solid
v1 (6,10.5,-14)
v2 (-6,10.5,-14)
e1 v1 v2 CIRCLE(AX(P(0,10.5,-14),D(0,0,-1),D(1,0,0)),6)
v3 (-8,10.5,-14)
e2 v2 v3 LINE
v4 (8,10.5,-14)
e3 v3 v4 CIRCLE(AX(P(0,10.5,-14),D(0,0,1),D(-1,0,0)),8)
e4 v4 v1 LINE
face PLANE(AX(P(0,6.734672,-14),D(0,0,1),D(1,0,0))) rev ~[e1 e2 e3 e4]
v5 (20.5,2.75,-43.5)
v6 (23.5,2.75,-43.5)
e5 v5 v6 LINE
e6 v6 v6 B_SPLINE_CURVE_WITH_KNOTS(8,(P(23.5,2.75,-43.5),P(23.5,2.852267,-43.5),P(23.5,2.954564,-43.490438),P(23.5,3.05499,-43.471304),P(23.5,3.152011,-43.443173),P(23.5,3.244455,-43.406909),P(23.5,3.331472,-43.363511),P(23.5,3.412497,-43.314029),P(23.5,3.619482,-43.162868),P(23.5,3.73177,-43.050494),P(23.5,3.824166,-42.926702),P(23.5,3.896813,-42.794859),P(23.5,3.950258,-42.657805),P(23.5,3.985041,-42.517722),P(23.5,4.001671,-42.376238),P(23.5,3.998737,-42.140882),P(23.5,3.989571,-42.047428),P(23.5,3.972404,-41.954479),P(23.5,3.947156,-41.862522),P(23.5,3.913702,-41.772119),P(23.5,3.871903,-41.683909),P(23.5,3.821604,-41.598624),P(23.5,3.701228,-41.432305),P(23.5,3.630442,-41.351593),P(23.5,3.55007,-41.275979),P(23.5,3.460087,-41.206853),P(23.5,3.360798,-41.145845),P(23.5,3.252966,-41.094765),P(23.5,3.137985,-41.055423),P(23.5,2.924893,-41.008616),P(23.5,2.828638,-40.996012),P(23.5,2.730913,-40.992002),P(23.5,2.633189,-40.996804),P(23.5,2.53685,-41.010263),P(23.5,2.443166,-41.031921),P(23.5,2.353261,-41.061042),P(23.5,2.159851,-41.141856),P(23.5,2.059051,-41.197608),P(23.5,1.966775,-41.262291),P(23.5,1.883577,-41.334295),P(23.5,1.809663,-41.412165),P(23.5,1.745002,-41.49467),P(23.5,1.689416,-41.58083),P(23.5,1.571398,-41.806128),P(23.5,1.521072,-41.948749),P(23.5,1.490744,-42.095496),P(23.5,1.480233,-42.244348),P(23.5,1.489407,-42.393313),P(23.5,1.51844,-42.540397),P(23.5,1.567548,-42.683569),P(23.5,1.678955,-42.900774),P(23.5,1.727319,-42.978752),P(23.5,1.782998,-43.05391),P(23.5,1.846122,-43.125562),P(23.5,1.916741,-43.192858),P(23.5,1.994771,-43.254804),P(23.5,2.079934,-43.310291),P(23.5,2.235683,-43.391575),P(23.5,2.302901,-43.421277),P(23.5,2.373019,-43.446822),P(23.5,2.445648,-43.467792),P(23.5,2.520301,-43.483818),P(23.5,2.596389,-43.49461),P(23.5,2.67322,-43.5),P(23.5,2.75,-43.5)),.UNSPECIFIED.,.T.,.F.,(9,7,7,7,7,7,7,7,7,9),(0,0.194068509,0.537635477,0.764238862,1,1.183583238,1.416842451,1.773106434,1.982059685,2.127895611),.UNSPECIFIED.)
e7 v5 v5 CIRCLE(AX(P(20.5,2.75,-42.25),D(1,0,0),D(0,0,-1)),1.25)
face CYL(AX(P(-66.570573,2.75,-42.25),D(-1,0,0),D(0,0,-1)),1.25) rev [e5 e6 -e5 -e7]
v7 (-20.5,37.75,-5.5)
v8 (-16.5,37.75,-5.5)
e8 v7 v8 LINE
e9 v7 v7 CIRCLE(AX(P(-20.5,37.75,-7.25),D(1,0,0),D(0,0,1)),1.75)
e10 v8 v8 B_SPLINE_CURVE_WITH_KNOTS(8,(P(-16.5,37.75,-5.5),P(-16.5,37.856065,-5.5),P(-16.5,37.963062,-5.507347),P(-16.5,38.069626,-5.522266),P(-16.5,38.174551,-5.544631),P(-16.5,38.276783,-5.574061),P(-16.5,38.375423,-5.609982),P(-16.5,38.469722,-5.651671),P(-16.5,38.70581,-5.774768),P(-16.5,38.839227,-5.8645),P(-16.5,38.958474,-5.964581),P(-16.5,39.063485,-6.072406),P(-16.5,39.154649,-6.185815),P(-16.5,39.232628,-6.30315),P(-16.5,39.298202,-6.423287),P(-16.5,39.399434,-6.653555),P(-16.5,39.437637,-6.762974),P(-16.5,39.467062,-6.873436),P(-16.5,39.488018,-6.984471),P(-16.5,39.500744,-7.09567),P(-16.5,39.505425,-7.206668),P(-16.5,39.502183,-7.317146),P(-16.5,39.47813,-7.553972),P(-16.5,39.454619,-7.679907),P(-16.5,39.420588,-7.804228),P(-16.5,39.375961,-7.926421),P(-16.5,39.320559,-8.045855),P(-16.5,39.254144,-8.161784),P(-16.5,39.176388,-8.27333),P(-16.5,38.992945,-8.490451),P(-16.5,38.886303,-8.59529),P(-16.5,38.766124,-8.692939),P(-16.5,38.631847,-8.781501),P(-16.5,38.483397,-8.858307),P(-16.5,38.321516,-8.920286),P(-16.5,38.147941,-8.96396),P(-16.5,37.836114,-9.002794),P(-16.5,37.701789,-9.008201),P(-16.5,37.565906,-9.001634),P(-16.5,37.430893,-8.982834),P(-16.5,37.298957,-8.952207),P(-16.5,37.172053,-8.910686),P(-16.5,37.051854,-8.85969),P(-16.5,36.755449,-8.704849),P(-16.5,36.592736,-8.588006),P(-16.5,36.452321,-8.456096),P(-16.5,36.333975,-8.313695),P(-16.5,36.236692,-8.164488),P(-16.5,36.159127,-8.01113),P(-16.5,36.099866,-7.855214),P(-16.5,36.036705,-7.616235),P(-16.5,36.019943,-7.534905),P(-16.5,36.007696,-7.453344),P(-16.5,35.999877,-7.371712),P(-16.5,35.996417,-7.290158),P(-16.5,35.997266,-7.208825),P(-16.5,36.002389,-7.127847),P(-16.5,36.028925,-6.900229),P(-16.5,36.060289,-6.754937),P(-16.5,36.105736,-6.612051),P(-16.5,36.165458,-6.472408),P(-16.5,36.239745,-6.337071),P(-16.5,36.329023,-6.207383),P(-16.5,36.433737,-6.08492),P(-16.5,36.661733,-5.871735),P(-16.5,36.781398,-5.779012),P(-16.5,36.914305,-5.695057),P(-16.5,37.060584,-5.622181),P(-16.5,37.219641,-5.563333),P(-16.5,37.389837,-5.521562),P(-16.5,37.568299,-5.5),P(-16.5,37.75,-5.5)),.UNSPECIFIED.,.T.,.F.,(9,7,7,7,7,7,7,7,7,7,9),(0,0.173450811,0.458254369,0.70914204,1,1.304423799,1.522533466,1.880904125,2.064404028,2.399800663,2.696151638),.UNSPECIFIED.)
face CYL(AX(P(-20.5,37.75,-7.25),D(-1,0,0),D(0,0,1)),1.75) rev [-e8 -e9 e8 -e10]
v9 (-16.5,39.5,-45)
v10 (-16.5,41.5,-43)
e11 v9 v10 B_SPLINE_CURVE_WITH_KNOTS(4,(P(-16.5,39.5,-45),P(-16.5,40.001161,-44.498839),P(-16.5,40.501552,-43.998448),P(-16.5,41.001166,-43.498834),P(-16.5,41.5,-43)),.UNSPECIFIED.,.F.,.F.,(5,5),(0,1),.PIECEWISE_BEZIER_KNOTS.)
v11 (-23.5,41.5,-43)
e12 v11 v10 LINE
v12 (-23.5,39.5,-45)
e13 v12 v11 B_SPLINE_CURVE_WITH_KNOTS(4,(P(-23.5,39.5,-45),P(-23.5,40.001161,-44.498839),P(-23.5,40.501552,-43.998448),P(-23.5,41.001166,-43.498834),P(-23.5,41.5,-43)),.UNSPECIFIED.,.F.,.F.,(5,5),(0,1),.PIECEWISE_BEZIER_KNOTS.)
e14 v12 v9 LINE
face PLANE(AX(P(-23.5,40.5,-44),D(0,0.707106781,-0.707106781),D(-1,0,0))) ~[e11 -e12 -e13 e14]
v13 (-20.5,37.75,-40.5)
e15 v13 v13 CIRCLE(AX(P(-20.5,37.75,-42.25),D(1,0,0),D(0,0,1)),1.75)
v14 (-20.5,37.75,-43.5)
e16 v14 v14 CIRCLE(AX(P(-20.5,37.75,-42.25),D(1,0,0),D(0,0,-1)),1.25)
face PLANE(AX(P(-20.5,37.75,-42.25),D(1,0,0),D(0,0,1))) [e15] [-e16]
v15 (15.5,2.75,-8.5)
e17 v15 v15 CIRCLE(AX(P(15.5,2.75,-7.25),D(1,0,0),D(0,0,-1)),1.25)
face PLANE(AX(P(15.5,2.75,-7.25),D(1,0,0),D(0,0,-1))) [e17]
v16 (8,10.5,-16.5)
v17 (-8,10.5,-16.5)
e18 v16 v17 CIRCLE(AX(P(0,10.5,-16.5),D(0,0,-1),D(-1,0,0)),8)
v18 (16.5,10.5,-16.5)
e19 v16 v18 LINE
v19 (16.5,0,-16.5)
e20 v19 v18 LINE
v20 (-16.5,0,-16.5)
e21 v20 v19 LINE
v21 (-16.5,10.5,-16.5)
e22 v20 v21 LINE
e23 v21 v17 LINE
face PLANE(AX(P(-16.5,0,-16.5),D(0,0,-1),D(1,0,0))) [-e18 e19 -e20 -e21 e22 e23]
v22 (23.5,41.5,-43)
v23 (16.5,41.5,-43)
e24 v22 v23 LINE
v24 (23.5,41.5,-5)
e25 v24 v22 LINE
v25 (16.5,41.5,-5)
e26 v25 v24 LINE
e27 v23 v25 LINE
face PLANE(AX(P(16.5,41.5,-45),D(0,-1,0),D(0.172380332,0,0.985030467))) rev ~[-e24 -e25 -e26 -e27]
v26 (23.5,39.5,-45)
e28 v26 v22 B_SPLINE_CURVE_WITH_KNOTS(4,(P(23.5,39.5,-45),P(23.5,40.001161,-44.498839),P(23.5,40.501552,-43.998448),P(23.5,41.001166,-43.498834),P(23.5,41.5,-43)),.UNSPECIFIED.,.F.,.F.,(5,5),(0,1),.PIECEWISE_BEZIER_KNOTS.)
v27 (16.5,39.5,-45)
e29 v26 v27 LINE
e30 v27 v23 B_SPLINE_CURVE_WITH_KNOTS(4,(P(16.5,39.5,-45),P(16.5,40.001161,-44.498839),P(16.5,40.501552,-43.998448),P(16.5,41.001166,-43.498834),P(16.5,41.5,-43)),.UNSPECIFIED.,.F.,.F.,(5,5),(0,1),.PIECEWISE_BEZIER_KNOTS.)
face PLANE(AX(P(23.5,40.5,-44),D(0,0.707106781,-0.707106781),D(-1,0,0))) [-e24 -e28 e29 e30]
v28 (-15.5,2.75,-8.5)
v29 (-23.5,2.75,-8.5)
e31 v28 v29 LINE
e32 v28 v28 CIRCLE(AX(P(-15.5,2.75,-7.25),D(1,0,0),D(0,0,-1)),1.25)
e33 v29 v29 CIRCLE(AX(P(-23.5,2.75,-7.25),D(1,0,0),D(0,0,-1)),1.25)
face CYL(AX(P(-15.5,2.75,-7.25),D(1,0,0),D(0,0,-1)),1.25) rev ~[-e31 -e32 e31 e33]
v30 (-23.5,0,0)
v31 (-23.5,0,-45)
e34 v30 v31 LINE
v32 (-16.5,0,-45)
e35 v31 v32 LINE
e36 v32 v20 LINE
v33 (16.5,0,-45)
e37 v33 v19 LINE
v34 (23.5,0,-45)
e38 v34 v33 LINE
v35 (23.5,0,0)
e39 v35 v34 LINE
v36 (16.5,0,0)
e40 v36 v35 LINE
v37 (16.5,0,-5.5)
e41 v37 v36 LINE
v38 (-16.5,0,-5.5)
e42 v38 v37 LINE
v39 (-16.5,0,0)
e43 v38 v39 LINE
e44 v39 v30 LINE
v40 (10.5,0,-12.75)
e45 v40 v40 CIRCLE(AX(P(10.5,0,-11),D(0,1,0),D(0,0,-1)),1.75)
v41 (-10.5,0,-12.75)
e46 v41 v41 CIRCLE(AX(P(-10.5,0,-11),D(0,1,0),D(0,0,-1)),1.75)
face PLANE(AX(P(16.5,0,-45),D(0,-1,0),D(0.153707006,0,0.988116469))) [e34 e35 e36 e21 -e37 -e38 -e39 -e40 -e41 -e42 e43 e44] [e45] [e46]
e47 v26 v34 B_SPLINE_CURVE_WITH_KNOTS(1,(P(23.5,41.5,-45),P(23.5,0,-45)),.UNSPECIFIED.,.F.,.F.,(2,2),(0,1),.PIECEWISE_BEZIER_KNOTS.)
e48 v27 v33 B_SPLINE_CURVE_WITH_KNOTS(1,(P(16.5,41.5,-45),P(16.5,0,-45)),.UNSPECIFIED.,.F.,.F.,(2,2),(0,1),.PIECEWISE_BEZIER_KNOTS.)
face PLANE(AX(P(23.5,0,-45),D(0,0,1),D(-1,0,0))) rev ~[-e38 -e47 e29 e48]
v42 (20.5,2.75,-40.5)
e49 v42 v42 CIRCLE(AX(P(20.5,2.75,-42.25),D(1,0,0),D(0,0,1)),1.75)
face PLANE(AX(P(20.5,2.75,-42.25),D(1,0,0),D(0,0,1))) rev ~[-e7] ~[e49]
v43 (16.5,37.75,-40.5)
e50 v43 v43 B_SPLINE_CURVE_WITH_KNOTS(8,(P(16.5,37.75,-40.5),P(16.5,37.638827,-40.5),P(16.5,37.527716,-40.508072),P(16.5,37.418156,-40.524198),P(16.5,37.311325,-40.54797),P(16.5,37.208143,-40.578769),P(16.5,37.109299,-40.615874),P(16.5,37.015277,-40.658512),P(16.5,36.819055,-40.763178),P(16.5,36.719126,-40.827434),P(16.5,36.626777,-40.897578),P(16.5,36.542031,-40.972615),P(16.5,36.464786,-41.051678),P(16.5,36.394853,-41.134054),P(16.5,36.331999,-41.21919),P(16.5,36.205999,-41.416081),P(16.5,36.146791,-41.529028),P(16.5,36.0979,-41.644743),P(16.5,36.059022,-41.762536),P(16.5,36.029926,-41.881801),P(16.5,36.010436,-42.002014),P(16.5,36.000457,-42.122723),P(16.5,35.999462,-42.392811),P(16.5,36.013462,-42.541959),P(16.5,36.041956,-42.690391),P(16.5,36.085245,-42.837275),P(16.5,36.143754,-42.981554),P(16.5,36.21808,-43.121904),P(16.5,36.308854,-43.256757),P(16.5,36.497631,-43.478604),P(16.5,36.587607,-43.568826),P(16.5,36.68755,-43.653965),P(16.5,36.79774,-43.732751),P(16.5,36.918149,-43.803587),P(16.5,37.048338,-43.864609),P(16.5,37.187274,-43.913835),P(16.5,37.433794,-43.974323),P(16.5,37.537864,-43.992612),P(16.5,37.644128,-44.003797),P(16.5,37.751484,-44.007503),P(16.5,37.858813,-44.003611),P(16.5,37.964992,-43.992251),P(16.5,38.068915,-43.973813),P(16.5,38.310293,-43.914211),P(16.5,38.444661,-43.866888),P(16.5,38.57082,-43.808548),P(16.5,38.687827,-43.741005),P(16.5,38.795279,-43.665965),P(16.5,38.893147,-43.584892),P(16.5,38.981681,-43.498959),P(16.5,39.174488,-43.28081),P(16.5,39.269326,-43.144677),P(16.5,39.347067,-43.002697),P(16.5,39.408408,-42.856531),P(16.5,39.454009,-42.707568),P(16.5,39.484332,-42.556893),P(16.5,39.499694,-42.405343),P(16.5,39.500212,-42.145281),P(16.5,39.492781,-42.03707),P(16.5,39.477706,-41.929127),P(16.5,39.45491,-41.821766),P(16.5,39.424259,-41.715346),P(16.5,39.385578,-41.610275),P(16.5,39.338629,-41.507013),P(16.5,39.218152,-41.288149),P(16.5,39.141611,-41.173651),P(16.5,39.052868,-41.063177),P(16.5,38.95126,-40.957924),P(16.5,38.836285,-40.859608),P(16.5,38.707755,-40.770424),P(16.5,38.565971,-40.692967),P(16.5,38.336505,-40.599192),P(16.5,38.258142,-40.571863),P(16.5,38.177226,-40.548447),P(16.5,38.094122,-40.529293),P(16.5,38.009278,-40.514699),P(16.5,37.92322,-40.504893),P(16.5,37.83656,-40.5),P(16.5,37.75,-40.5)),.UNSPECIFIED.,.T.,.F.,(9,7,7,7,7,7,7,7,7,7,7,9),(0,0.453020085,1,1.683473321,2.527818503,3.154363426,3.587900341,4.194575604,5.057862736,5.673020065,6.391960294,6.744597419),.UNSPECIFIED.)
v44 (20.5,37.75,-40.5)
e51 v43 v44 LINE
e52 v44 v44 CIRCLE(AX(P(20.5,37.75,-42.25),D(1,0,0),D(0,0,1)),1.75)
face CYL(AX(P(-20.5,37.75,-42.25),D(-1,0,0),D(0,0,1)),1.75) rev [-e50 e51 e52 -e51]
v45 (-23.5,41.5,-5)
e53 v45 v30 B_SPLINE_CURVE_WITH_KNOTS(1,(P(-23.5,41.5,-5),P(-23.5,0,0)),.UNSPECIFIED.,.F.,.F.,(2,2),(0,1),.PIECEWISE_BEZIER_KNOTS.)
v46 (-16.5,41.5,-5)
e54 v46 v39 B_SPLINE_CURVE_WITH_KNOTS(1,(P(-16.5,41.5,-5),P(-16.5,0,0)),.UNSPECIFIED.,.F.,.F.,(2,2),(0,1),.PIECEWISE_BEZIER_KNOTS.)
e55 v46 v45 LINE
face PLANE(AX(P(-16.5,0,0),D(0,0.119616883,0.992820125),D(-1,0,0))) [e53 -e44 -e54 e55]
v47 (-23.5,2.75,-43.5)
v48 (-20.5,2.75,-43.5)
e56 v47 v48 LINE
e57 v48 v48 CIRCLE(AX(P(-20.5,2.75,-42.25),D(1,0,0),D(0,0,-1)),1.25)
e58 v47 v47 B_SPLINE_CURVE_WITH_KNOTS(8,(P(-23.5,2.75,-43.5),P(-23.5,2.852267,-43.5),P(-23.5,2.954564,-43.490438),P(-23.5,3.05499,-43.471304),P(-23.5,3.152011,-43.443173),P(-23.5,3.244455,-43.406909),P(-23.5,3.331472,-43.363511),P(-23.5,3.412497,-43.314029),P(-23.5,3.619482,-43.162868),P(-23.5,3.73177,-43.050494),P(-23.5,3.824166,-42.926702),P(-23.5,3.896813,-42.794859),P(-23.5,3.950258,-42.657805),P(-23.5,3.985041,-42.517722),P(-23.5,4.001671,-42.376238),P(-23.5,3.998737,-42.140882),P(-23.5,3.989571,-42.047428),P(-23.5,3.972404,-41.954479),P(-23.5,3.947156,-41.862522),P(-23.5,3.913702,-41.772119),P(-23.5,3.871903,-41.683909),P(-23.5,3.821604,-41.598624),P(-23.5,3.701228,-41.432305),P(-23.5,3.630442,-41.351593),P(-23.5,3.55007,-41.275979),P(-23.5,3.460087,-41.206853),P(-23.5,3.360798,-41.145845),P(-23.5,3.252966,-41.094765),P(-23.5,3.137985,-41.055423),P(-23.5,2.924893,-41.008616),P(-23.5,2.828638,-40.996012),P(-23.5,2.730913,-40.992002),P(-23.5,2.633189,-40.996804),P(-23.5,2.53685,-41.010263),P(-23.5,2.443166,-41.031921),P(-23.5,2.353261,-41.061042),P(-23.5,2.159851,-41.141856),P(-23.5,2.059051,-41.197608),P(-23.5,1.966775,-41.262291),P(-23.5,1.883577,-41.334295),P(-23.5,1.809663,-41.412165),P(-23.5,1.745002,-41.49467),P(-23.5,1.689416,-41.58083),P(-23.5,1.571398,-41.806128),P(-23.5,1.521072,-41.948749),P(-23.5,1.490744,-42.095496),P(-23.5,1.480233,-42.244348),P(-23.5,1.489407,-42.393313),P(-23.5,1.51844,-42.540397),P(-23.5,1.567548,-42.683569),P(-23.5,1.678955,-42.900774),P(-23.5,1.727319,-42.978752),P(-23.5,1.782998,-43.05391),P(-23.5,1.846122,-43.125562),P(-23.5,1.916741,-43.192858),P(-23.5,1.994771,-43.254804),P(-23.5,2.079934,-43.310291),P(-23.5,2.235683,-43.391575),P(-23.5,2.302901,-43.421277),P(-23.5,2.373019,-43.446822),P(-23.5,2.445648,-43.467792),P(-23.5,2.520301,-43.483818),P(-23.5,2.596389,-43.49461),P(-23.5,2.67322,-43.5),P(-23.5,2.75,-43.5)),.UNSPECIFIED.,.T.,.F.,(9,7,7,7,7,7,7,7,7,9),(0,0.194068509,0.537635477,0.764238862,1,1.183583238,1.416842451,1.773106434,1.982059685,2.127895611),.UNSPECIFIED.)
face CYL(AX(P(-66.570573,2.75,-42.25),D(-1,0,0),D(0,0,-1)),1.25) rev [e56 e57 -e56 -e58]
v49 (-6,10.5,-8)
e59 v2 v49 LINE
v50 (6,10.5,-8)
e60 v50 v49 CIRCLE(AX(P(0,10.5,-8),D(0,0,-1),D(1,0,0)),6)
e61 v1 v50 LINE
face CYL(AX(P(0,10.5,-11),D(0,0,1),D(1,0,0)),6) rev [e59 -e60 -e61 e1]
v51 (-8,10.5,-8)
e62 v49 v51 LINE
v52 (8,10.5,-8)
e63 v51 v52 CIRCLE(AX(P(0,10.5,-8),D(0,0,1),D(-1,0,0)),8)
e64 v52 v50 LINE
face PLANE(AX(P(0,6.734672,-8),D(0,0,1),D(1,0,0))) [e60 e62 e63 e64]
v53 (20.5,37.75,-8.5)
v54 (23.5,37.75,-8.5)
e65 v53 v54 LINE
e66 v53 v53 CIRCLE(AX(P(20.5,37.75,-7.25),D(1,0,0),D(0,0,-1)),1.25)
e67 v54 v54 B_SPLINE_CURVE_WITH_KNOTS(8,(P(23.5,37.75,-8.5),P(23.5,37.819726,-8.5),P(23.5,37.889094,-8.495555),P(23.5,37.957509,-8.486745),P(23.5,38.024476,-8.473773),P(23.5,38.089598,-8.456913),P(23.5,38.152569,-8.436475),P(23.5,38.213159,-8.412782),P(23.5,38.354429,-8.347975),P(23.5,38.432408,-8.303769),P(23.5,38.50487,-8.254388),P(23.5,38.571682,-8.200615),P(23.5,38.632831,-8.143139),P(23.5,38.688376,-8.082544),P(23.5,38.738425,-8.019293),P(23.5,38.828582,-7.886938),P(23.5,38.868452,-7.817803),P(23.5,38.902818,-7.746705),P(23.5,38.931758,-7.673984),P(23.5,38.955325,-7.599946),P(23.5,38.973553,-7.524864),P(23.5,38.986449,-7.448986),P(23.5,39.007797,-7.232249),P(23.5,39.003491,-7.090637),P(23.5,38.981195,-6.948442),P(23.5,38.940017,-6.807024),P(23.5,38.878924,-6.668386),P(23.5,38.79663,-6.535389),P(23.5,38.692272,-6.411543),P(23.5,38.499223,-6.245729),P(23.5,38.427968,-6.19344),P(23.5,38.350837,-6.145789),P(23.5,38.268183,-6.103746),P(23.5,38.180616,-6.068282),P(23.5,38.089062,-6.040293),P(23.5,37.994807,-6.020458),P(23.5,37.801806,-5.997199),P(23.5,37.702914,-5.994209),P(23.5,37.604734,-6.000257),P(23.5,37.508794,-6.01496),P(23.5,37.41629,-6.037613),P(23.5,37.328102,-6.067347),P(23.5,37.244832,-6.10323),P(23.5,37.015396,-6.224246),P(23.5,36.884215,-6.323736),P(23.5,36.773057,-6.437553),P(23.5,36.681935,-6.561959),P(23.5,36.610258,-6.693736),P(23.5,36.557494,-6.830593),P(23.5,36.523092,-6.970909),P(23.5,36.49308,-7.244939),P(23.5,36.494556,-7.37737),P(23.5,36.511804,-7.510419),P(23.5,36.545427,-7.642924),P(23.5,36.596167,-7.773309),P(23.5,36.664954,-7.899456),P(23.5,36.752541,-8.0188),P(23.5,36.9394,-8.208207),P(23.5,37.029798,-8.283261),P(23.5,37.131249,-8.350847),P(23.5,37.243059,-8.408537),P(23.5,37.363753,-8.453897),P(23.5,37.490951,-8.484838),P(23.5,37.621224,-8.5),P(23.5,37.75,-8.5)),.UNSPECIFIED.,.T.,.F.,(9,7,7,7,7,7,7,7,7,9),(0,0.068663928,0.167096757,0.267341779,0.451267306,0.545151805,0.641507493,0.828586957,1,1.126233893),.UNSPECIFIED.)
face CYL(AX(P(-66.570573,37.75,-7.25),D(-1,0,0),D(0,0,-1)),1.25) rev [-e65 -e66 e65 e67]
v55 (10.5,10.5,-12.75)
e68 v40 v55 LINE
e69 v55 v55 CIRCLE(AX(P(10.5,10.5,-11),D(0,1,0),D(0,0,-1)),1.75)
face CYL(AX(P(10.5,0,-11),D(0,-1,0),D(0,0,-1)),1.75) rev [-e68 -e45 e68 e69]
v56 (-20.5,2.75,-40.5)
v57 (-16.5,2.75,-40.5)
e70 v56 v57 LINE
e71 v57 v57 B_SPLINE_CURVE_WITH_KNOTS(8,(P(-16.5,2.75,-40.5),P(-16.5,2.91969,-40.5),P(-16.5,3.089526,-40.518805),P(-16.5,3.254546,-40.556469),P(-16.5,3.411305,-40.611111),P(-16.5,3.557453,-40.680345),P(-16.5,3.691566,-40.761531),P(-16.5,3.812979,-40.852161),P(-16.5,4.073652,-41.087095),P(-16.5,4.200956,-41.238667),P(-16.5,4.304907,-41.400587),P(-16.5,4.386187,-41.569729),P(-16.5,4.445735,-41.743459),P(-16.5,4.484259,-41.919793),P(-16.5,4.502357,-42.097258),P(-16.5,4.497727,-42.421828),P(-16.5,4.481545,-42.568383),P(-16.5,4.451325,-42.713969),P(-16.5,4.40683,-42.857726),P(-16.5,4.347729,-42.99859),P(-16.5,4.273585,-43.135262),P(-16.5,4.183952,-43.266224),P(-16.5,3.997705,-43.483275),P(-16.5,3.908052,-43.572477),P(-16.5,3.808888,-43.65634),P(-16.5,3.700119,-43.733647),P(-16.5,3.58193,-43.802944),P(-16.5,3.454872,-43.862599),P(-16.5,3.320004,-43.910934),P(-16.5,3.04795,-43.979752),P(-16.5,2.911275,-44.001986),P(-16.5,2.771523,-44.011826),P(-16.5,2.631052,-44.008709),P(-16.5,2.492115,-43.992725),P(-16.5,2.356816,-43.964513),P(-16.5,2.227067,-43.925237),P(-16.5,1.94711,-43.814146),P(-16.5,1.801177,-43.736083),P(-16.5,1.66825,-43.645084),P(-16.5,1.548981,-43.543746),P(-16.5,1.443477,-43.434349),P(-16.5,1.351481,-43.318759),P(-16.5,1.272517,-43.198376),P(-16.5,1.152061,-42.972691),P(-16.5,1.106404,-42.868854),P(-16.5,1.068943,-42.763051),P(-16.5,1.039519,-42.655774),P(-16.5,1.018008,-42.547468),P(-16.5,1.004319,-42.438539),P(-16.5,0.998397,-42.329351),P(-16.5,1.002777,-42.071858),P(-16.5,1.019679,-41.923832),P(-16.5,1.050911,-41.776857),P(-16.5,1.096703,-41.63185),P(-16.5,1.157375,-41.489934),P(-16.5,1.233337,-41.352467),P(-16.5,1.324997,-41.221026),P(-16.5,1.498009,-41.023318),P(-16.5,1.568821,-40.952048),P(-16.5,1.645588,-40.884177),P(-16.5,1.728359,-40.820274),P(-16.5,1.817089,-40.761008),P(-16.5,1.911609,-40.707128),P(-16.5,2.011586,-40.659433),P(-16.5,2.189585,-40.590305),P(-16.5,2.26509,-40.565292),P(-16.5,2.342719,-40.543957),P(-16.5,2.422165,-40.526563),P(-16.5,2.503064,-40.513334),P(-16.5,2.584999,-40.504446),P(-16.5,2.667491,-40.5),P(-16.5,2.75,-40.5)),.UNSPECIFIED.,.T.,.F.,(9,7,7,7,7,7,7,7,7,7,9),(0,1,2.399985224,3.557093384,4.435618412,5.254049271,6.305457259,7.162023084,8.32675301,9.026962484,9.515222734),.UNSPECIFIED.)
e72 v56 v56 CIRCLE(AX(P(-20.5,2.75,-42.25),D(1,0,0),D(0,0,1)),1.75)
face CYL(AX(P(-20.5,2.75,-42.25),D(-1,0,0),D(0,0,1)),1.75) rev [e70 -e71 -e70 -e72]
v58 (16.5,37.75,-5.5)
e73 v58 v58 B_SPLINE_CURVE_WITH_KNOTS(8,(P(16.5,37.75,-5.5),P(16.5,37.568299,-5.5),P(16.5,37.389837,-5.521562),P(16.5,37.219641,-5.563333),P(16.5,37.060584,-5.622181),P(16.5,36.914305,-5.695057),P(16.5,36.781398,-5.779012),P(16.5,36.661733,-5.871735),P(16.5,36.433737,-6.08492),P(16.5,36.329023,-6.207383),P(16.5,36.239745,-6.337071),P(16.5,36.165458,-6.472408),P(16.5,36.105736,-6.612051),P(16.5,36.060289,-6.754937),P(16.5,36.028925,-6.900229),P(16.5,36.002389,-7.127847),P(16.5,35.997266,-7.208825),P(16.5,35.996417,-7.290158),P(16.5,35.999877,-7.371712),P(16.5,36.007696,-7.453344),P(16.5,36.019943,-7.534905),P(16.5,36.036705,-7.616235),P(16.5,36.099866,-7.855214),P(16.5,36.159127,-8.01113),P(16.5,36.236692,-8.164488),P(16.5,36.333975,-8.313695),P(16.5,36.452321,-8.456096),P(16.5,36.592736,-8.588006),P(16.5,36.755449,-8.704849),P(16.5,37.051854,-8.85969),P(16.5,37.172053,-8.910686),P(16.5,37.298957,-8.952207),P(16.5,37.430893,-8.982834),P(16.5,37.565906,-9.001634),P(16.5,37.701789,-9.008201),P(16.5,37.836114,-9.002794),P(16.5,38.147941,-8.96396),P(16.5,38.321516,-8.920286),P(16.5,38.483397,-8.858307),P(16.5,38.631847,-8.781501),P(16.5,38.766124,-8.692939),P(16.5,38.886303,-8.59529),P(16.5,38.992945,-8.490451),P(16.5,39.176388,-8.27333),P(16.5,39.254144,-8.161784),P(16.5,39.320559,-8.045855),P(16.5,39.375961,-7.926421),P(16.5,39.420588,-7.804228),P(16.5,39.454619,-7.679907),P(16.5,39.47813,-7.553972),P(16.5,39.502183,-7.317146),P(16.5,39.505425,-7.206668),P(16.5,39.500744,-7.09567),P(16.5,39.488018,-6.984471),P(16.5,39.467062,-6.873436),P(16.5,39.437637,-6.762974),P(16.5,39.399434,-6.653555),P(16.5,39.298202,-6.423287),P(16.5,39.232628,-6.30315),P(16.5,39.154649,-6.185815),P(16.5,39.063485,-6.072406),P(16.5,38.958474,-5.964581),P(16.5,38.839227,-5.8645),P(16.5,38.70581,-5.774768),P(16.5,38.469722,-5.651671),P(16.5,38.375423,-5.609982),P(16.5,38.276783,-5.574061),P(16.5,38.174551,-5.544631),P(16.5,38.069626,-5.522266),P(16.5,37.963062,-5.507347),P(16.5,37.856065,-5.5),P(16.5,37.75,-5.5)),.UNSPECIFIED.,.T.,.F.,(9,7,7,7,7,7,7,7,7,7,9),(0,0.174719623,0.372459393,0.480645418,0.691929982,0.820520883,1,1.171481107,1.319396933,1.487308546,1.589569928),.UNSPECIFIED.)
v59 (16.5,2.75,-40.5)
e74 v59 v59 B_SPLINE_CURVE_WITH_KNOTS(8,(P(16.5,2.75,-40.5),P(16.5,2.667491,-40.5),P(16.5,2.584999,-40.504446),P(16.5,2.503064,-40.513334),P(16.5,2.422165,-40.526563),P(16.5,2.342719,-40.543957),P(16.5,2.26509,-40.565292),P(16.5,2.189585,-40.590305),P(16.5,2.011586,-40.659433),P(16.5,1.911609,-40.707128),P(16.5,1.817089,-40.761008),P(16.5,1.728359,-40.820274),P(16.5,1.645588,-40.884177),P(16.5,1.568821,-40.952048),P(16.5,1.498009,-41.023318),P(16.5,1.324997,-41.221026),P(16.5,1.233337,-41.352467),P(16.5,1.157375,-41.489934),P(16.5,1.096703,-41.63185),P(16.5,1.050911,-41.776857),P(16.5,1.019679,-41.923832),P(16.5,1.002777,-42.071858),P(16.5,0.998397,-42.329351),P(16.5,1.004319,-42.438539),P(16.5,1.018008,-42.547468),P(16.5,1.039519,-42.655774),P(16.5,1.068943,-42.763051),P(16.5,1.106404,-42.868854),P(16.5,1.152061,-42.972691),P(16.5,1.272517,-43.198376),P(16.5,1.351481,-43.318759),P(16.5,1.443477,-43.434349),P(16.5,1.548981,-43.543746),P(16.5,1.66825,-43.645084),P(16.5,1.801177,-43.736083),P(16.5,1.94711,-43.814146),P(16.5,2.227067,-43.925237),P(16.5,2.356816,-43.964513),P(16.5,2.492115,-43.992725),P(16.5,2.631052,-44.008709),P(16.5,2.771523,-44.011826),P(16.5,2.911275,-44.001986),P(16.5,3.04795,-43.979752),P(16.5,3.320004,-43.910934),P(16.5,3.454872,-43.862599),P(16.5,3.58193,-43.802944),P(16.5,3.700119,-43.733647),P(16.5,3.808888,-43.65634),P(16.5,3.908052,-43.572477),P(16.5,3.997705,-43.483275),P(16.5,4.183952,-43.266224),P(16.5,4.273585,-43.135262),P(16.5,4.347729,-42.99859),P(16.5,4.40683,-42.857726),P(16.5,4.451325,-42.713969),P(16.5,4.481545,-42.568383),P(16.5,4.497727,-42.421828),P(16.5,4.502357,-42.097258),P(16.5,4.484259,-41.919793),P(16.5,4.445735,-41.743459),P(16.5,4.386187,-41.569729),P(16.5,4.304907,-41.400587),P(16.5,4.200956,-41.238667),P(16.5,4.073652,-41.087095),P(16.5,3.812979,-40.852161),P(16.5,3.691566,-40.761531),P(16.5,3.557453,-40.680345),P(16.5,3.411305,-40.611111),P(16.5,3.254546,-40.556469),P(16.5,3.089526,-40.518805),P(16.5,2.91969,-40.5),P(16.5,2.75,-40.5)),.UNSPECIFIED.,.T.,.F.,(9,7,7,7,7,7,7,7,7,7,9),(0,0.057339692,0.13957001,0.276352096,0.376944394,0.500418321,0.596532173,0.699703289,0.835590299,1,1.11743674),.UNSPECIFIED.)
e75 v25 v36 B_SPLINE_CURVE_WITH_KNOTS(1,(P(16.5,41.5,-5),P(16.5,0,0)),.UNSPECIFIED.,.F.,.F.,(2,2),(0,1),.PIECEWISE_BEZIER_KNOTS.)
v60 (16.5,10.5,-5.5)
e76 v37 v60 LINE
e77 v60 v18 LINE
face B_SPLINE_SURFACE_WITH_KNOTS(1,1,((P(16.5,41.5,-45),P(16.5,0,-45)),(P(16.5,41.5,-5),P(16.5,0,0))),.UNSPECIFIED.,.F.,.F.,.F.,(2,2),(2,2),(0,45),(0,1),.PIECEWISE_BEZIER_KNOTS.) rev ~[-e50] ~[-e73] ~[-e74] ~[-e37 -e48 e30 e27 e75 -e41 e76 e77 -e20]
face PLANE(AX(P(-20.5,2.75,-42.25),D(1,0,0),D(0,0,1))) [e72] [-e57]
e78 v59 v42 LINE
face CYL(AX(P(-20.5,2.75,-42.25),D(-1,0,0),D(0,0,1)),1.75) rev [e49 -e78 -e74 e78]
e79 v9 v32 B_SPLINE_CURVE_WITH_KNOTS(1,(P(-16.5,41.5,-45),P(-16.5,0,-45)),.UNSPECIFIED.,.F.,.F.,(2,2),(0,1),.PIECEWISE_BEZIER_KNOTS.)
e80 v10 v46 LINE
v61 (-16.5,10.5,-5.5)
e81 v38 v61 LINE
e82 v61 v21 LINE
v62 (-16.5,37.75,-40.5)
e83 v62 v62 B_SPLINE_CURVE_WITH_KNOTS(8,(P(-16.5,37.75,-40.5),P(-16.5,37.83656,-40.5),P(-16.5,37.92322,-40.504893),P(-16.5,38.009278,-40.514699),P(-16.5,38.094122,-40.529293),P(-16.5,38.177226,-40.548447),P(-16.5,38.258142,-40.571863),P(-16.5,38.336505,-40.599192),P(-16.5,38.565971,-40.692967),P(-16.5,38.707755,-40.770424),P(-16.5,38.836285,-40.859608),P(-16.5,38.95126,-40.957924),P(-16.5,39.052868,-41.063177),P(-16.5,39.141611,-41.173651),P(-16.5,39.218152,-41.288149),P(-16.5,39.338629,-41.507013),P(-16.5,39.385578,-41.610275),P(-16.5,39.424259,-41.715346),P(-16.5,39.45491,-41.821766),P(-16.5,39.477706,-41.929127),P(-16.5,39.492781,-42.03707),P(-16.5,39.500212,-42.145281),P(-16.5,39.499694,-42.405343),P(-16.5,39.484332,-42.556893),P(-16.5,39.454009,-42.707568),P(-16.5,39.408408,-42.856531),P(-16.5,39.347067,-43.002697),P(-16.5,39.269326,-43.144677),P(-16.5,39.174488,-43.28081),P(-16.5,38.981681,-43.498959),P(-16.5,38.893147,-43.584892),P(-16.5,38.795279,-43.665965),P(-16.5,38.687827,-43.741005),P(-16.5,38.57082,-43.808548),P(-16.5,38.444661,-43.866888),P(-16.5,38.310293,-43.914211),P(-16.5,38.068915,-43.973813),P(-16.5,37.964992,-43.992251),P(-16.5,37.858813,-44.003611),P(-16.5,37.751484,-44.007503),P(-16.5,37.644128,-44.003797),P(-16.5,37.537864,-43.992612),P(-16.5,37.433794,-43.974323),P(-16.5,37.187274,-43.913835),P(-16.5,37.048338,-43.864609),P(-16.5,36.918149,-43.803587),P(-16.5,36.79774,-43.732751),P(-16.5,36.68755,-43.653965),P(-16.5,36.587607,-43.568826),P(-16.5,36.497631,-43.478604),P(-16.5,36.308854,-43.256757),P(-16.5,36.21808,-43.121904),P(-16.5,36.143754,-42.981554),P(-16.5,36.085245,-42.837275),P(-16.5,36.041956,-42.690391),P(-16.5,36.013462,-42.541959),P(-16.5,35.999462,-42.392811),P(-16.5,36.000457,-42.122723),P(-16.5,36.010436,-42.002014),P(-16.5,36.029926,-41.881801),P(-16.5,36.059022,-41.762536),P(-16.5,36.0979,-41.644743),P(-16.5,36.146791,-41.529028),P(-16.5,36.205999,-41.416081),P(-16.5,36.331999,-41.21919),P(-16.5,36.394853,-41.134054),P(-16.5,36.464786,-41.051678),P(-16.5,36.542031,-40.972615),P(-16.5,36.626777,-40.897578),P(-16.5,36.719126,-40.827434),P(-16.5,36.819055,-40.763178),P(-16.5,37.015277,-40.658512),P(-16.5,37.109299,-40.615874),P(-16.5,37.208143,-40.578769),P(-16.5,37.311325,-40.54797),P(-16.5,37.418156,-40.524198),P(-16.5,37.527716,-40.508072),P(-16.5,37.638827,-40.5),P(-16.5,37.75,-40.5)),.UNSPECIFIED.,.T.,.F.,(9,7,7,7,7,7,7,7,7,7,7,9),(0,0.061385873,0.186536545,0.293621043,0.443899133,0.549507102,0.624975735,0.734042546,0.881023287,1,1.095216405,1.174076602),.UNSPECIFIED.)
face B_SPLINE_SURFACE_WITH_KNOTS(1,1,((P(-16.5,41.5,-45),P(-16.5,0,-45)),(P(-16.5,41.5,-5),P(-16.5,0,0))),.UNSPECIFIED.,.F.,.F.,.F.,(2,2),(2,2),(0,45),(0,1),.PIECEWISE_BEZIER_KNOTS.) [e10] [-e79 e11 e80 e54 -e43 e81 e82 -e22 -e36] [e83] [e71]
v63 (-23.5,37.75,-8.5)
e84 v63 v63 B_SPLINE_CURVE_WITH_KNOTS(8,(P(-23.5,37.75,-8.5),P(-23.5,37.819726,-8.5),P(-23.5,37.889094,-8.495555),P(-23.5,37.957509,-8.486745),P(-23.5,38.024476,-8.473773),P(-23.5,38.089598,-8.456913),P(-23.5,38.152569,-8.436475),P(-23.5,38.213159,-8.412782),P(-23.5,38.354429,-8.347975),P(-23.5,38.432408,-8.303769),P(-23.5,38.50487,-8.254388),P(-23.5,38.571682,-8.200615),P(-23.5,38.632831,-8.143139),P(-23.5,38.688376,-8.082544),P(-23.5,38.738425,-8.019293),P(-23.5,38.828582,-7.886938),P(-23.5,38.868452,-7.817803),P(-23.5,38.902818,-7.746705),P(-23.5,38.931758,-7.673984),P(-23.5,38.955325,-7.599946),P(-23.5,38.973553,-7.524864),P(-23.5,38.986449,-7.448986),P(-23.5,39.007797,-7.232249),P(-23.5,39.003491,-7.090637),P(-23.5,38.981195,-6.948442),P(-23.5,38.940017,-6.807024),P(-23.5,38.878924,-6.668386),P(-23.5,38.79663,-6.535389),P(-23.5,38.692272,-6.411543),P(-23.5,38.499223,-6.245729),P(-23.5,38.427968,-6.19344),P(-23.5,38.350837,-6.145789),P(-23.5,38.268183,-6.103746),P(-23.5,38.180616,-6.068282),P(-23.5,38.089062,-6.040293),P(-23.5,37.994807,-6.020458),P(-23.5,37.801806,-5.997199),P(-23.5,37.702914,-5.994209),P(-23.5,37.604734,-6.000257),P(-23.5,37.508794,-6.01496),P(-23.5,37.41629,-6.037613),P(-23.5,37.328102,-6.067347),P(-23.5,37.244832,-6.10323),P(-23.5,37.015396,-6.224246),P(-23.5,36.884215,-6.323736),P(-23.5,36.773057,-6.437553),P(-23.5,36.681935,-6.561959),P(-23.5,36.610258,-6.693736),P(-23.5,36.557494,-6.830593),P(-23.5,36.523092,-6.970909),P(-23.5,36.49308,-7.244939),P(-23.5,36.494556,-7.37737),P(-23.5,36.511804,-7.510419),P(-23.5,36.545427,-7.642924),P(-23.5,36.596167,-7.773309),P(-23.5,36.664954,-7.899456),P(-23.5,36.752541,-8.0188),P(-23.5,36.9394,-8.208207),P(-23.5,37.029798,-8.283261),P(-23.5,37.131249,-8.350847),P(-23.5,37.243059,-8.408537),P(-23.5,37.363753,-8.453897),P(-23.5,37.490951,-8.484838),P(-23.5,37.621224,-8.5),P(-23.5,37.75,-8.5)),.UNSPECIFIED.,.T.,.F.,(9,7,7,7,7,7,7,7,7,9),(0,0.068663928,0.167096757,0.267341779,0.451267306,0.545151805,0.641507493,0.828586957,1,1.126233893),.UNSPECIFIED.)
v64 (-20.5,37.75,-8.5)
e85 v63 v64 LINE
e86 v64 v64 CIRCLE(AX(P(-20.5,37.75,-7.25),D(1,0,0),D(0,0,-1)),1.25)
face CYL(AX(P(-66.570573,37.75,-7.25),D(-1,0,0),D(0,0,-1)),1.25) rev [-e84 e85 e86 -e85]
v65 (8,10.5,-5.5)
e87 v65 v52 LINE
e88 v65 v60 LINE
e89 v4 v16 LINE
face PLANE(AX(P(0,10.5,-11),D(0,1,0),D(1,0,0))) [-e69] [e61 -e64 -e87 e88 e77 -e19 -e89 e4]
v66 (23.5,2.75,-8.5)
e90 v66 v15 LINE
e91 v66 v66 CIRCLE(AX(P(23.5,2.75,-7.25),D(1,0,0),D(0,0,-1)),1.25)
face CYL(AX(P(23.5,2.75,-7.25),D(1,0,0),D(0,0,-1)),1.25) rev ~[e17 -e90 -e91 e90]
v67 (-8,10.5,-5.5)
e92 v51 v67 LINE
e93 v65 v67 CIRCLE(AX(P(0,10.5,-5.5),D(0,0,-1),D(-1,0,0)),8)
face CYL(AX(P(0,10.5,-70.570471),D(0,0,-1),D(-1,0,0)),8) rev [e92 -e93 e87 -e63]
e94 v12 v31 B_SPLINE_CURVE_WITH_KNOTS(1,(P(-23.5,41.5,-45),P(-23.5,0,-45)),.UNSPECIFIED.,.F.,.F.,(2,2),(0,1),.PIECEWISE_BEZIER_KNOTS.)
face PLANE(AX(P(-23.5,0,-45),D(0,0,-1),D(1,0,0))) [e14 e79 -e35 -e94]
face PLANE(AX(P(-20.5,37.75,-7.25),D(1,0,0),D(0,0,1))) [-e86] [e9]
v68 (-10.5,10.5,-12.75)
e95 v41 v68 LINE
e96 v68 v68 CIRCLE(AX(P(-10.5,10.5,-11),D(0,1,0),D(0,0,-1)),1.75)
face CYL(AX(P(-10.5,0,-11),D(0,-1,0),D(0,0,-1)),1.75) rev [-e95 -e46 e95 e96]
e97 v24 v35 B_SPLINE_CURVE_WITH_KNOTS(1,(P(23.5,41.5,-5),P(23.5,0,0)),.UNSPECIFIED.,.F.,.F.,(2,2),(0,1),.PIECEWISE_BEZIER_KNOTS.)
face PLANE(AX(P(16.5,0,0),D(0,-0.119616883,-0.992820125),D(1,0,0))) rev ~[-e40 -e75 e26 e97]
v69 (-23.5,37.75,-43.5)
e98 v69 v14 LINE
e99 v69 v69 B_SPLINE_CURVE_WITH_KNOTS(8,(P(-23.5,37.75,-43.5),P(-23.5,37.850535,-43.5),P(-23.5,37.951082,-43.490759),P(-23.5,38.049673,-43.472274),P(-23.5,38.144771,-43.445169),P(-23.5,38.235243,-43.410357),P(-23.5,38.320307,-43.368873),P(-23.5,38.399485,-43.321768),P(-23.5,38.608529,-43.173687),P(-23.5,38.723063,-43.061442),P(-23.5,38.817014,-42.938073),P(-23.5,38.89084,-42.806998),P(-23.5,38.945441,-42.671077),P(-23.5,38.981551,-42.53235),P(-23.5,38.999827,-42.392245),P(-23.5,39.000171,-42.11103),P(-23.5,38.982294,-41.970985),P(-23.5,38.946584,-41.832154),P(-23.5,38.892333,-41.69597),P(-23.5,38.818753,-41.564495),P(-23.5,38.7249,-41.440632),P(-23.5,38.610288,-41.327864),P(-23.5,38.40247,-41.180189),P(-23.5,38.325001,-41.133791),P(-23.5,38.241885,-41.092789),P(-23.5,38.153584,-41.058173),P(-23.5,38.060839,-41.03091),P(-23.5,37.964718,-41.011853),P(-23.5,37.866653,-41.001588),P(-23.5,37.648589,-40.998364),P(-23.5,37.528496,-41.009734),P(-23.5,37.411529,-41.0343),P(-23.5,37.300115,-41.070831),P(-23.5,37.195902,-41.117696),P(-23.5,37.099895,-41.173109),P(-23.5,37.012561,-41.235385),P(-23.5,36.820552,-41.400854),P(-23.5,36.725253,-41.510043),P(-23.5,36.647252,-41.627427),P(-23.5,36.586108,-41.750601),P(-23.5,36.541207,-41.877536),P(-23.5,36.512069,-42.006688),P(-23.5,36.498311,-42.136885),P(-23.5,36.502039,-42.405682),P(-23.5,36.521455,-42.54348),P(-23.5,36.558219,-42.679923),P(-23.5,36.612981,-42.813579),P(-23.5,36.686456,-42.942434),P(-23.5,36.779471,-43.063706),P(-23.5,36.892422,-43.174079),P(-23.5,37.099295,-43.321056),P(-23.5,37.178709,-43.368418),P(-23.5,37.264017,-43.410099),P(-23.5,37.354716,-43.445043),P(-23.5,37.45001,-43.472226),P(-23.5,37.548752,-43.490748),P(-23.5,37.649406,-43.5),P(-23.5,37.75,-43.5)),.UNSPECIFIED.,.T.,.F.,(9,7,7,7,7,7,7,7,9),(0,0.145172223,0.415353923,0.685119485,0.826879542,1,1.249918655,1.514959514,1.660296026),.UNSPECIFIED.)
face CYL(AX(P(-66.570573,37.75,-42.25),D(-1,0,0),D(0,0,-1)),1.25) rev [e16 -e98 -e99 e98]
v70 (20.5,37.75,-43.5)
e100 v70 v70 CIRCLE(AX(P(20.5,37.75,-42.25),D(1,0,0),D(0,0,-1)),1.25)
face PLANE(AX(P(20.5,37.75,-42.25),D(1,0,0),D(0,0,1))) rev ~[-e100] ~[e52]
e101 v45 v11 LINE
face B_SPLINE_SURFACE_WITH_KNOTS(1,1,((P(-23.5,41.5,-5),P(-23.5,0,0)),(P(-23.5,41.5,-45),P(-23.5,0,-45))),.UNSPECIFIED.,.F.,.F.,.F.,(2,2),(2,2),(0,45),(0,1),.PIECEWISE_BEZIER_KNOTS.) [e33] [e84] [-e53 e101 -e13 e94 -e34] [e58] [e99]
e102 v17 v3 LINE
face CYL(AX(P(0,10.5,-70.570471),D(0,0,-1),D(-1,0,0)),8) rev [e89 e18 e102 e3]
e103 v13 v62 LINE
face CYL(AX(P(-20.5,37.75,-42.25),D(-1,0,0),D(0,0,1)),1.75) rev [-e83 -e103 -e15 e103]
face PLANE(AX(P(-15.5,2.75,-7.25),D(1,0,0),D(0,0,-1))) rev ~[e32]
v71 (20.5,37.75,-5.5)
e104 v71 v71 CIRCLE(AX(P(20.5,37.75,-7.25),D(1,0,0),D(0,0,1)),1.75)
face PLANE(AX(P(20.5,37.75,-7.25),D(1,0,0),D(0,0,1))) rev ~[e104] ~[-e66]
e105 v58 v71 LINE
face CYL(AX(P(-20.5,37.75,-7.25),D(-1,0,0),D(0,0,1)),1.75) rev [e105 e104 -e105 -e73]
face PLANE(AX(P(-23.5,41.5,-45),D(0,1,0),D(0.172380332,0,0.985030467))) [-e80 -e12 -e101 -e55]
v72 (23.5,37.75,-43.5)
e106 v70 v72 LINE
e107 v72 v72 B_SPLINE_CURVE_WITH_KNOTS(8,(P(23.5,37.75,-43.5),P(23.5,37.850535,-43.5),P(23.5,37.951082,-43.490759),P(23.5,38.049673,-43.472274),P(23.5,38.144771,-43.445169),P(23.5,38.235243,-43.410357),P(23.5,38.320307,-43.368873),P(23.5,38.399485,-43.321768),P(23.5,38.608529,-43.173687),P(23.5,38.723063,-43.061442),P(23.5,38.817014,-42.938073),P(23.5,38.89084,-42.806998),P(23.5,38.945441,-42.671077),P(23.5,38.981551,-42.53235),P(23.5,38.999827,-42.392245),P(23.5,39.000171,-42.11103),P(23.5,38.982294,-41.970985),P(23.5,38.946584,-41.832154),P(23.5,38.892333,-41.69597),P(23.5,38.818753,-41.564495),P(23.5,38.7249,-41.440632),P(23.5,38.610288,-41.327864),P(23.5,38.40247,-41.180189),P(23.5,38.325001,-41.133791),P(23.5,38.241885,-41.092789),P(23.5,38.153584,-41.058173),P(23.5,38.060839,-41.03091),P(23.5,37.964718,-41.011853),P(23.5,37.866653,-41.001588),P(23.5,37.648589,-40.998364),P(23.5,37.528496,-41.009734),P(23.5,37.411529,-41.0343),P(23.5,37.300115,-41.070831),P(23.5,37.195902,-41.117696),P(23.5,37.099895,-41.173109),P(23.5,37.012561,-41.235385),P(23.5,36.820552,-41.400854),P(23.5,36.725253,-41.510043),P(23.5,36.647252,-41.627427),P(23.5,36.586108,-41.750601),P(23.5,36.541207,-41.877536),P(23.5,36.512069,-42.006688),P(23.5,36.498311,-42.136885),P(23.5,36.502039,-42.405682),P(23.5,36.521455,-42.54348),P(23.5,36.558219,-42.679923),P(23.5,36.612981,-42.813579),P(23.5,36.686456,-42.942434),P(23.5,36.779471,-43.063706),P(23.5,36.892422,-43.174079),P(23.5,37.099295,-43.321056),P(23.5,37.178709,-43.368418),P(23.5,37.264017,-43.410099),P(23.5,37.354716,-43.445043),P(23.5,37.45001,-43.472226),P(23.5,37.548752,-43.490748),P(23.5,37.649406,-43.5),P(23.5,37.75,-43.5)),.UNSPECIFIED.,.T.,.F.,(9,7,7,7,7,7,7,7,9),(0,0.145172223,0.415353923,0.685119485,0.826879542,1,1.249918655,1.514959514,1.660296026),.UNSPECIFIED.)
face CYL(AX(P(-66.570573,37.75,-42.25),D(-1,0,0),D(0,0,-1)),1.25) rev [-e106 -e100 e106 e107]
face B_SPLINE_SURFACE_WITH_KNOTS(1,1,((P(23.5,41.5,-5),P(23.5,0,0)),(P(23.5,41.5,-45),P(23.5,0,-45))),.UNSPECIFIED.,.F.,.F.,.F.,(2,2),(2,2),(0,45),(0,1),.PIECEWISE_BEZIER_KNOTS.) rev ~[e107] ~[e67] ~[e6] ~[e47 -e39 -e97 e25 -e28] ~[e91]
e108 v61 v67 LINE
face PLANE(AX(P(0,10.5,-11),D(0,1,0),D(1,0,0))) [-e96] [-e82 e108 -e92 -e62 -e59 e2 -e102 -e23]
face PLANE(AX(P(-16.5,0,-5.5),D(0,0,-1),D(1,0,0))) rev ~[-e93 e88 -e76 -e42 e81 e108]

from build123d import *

# Parameters (mm, degrees)
SKETCH1_W               = 33
SKETCH1_H               = 11
SKETCH1_R               = 1.75
BOSS_EXTRUDE1_DEPTH     = 10.5
CHAMFER1_SIZE           = 2
CUT_EXTRUDE1_DEPTH      = 66.570572836
CUT_EXTRUDE1_DEPTH_BACK = 66.570572836
SKETCH3_R               = 1.25
CUT_EXTRUDE2_DEPTH      = 20.5
CUT_EXTRUDE2_DEPTH_BACK = 20.5
SKETCH3_3_R             = 1.75
SKETCH3_3_R_2           = 1.25
CUT_EXTRUDE3_START      = 23.5
SKETCH3_6_R             = 1.25
CUT_EXTRUDE3_DEPTH      = 8
CUT_EXTRUDE4_START      = -15.5
SKETCH3_7_R             = 1.25
CUT_EXTRUDE4_DEPTH      = 8
CUT_EXTRUDE5_DEPTH      = 59.570470544
CUT_EXTRUDE5_DEPTH_BACK = 59.570470544
BOSS_EXTRUDE2_DEPTH     = 3


with BuildPart() as part:
    # Sketch1 → Boss-Extrude1 (new body)
    with BuildSketch(Plane(origin=(0, 0, 0), x_dir=(1, 0, 0), z_dir=(0, 1, 0))):
        with Locations((0, 11)):
            Rectangle(SKETCH1_W, SKETCH1_H)
        with Locations(Location((-10.5, 11, 0), (0, 0, 90))):
            Circle(SKETCH1_R, mode=Mode.SUBTRACT)
        with Locations(Location((10.5, 11, 0), (0, 0, 90))):
            Circle(SKETCH1_R, mode=Mode.SUBTRACT)
    extrude(amount=BOSS_EXTRUDE1_DEPTH)

    # Sketch2 → Loft1 section 0
    with BuildSketch(Plane(origin=(0, 41.5, 0), x_dir=(1, 0, 0), z_dir=(0, 1, 0))):
        with BuildLine():
            Line((-23.5, 45), (-16.5, 45))
            Line((-16.5, 45), (-16.5, 5))
            Line((-16.5, 5), (-23.5, 5))
            Line((-23.5, 5), (-23.5, 45))
        make_face()
    # Sketch1<3> → Loft1 section 1
    with BuildSketch(Plane(origin=(0, 0, 0), x_dir=(1, 0, 0), z_dir=(0, 1, 0))):
        with BuildLine():
            Line((-23.5, 45), (-16.5, 45))
            Line((-16.5, 45), (-16.5, 0))
            Line((-16.5, 0), (-23.5, 0))
            Line((-23.5, 0), (-23.5, 45))
        make_face()
    loft()

    # Sketch2<3> → Loft2 section 0
    with BuildSketch(Plane(origin=(0, 41.5, 0), x_dir=(1, 0, 0), z_dir=(0, 1, 0))):
        with BuildLine():
            Line((16.5, 45), (16.5, 5))
            Line((16.5, 5), (23.5, 5))
            Line((23.5, 5), (23.5, 45))
            Line((23.5, 45), (16.5, 45))
        make_face()
    # Sketch1<4> → Loft2 section 1
    with BuildSketch(Plane(origin=(0, 0, 0), x_dir=(1, 0, 0), z_dir=(0, 1, 0))):
        with BuildLine():
            Line((16.5, 45), (16.5, 0))
            Line((16.5, 0), (23.5, 0))
            Line((23.5, 0), (23.5, 45))
            Line((23.5, 45), (16.5, 45))
        make_face()
    loft()

    # Chamfer1
    chamfer1_edges = [part.edges().sort_by_distance(p)[0] for p in [
        (20, 41.5, -45),
        (-20, 41.5, -45),
    ]]
    chamfer(chamfer1_edges, length=CHAMFER1_SIZE)

    # Sketch3 → Cut-Extrude1 (cut, two sides: drawn at the far end of the back side and taken through both)
    with BuildSketch(Plane(origin=(0, 0, 0), x_dir=(0, 0, -1), z_dir=(1, 0, 0)).offset(-CUT_EXTRUDE1_DEPTH_BACK)):
        with Locations((7.25, 37.75)):
            Circle(SKETCH3_R)
        with Locations((42.25, 37.75)):
            Circle(SKETCH3_R)
        with Locations((42.25, 2.75)):
            Circle(SKETCH3_R)
    extrude(amount=CUT_EXTRUDE1_DEPTH + CUT_EXTRUDE1_DEPTH_BACK, mode=Mode.SUBTRACT)

    # Sketch3<3> → Cut-Extrude2 (cut, two sides: drawn at the far end of the back side and taken through both)
    # profile 1 of 3: a face of its own
    with BuildSketch(Plane(origin=(0, 0, 0), x_dir=(0, 0, -1), z_dir=(1, 0, 0)).offset(-CUT_EXTRUDE2_DEPTH_BACK)):
        with Locations(Location((7.25, 37.75, 0), (0, 0, 180))):
            Circle(SKETCH3_3_R)
        with Locations((7.25, 37.75)):
            Circle(SKETCH3_3_R_2, mode=Mode.SUBTRACT)
    # profile 2 of 3: a face of its own
    with BuildSketch(Plane(origin=(0, 0, 0), x_dir=(0, 0, -1), z_dir=(1, 0, 0)).offset(-CUT_EXTRUDE2_DEPTH_BACK)):
        with Locations(Location((42.25, 37.75, 0), (0, 0, 180))):
            Circle(SKETCH3_3_R)
        with Locations((42.25, 37.75)):
            Circle(SKETCH3_3_R_2, mode=Mode.SUBTRACT)
    # profile 3 of 3: a face of its own
    with BuildSketch(Plane(origin=(0, 0, 0), x_dir=(0, 0, -1), z_dir=(1, 0, 0)).offset(-CUT_EXTRUDE2_DEPTH_BACK)):
        with Locations(Location((42.25, 2.75, 0), (0, 0, 180))):
            Circle(SKETCH3_3_R)
        with Locations((42.25, 2.75)):
            Circle(SKETCH3_3_R_2, mode=Mode.SUBTRACT)
    extrude(amount=CUT_EXTRUDE2_DEPTH + CUT_EXTRUDE2_DEPTH_BACK, mode=Mode.SUBTRACT)

    # Sketch3<6> → Cut-Extrude3 (cut)
    with BuildSketch(Plane(origin=(0, 0, 0), x_dir=(0, 0, -1), z_dir=(1, 0, 0)).offset(CUT_EXTRUDE3_START)):
        with Locations((7.25, 2.75)):
            Circle(SKETCH3_6_R)
    extrude(amount=-CUT_EXTRUDE3_DEPTH, mode=Mode.SUBTRACT)

    # Sketch3<7> → Cut-Extrude4 (cut)
    with BuildSketch(Plane(origin=(0, 0, 0), x_dir=(0, 0, -1), z_dir=(1, 0, 0)).offset(CUT_EXTRUDE4_START)):
        with Locations((7.25, 2.75)):
            Circle(SKETCH3_7_R)
    extrude(amount=-CUT_EXTRUDE4_DEPTH, mode=Mode.SUBTRACT)

    # Sketch4 → Cut-Extrude5 (cut, two sides: drawn at the far end of the back side and taken through both)
    with BuildSketch(Plane.XY.offset(-11).offset(-CUT_EXTRUDE5_DEPTH_BACK)):
        with BuildLine():
            ThreePointArc((-6, 10.5), (0, 16.5), (6, 10.5))
            Line((6, 10.5), (8, 10.5))
            ThreePointArc((8, 10.5), (0, 18.5), (-8, 10.5))
            Line((-8, 10.5), (-6, 10.5))
        make_face()
        with BuildLine():
            Line((8, 10.5), (6, 10.5))
            ThreePointArc((6, 10.5), (0, 4.5), (-6, 10.5))
            Line((-6, 10.5), (-8, 10.5))
            ThreePointArc((-8, 10.5), (0, 2.5), (8, 10.5))
        make_face()
        with BuildLine():
            ThreePointArc((-6, 10.5), (0, 4.5), (6, 10.5))
            Line((6, 10.5), (-6, 10.5))
        make_face()
        with BuildLine():
            Line((-6, 10.5), (6, 10.5))
            ThreePointArc((6, 10.5), (0, 16.5), (-6, 10.5))
        make_face()
    extrude(amount=CUT_EXTRUDE5_DEPTH + CUT_EXTRUDE5_DEPTH_BACK, mode=Mode.SUBTRACT)

    # Sketch4<4> → Boss-Extrude2 (add, symmetric)
    with BuildSketch(Plane.XY.offset(-11)):
        with BuildLine():
            Line((8, 10.5), (6, 10.5))
            ThreePointArc((6, 10.5), (0, 4.5), (-6, 10.5))
            Line((-6, 10.5), (-8, 10.5))
            ThreePointArc((-8, 10.5), (0, 2.5), (8, 10.5))
        make_face()
    extrude(amount=BOSS_EXTRUDE2_DEPTH, both=True)


solid = part.part
